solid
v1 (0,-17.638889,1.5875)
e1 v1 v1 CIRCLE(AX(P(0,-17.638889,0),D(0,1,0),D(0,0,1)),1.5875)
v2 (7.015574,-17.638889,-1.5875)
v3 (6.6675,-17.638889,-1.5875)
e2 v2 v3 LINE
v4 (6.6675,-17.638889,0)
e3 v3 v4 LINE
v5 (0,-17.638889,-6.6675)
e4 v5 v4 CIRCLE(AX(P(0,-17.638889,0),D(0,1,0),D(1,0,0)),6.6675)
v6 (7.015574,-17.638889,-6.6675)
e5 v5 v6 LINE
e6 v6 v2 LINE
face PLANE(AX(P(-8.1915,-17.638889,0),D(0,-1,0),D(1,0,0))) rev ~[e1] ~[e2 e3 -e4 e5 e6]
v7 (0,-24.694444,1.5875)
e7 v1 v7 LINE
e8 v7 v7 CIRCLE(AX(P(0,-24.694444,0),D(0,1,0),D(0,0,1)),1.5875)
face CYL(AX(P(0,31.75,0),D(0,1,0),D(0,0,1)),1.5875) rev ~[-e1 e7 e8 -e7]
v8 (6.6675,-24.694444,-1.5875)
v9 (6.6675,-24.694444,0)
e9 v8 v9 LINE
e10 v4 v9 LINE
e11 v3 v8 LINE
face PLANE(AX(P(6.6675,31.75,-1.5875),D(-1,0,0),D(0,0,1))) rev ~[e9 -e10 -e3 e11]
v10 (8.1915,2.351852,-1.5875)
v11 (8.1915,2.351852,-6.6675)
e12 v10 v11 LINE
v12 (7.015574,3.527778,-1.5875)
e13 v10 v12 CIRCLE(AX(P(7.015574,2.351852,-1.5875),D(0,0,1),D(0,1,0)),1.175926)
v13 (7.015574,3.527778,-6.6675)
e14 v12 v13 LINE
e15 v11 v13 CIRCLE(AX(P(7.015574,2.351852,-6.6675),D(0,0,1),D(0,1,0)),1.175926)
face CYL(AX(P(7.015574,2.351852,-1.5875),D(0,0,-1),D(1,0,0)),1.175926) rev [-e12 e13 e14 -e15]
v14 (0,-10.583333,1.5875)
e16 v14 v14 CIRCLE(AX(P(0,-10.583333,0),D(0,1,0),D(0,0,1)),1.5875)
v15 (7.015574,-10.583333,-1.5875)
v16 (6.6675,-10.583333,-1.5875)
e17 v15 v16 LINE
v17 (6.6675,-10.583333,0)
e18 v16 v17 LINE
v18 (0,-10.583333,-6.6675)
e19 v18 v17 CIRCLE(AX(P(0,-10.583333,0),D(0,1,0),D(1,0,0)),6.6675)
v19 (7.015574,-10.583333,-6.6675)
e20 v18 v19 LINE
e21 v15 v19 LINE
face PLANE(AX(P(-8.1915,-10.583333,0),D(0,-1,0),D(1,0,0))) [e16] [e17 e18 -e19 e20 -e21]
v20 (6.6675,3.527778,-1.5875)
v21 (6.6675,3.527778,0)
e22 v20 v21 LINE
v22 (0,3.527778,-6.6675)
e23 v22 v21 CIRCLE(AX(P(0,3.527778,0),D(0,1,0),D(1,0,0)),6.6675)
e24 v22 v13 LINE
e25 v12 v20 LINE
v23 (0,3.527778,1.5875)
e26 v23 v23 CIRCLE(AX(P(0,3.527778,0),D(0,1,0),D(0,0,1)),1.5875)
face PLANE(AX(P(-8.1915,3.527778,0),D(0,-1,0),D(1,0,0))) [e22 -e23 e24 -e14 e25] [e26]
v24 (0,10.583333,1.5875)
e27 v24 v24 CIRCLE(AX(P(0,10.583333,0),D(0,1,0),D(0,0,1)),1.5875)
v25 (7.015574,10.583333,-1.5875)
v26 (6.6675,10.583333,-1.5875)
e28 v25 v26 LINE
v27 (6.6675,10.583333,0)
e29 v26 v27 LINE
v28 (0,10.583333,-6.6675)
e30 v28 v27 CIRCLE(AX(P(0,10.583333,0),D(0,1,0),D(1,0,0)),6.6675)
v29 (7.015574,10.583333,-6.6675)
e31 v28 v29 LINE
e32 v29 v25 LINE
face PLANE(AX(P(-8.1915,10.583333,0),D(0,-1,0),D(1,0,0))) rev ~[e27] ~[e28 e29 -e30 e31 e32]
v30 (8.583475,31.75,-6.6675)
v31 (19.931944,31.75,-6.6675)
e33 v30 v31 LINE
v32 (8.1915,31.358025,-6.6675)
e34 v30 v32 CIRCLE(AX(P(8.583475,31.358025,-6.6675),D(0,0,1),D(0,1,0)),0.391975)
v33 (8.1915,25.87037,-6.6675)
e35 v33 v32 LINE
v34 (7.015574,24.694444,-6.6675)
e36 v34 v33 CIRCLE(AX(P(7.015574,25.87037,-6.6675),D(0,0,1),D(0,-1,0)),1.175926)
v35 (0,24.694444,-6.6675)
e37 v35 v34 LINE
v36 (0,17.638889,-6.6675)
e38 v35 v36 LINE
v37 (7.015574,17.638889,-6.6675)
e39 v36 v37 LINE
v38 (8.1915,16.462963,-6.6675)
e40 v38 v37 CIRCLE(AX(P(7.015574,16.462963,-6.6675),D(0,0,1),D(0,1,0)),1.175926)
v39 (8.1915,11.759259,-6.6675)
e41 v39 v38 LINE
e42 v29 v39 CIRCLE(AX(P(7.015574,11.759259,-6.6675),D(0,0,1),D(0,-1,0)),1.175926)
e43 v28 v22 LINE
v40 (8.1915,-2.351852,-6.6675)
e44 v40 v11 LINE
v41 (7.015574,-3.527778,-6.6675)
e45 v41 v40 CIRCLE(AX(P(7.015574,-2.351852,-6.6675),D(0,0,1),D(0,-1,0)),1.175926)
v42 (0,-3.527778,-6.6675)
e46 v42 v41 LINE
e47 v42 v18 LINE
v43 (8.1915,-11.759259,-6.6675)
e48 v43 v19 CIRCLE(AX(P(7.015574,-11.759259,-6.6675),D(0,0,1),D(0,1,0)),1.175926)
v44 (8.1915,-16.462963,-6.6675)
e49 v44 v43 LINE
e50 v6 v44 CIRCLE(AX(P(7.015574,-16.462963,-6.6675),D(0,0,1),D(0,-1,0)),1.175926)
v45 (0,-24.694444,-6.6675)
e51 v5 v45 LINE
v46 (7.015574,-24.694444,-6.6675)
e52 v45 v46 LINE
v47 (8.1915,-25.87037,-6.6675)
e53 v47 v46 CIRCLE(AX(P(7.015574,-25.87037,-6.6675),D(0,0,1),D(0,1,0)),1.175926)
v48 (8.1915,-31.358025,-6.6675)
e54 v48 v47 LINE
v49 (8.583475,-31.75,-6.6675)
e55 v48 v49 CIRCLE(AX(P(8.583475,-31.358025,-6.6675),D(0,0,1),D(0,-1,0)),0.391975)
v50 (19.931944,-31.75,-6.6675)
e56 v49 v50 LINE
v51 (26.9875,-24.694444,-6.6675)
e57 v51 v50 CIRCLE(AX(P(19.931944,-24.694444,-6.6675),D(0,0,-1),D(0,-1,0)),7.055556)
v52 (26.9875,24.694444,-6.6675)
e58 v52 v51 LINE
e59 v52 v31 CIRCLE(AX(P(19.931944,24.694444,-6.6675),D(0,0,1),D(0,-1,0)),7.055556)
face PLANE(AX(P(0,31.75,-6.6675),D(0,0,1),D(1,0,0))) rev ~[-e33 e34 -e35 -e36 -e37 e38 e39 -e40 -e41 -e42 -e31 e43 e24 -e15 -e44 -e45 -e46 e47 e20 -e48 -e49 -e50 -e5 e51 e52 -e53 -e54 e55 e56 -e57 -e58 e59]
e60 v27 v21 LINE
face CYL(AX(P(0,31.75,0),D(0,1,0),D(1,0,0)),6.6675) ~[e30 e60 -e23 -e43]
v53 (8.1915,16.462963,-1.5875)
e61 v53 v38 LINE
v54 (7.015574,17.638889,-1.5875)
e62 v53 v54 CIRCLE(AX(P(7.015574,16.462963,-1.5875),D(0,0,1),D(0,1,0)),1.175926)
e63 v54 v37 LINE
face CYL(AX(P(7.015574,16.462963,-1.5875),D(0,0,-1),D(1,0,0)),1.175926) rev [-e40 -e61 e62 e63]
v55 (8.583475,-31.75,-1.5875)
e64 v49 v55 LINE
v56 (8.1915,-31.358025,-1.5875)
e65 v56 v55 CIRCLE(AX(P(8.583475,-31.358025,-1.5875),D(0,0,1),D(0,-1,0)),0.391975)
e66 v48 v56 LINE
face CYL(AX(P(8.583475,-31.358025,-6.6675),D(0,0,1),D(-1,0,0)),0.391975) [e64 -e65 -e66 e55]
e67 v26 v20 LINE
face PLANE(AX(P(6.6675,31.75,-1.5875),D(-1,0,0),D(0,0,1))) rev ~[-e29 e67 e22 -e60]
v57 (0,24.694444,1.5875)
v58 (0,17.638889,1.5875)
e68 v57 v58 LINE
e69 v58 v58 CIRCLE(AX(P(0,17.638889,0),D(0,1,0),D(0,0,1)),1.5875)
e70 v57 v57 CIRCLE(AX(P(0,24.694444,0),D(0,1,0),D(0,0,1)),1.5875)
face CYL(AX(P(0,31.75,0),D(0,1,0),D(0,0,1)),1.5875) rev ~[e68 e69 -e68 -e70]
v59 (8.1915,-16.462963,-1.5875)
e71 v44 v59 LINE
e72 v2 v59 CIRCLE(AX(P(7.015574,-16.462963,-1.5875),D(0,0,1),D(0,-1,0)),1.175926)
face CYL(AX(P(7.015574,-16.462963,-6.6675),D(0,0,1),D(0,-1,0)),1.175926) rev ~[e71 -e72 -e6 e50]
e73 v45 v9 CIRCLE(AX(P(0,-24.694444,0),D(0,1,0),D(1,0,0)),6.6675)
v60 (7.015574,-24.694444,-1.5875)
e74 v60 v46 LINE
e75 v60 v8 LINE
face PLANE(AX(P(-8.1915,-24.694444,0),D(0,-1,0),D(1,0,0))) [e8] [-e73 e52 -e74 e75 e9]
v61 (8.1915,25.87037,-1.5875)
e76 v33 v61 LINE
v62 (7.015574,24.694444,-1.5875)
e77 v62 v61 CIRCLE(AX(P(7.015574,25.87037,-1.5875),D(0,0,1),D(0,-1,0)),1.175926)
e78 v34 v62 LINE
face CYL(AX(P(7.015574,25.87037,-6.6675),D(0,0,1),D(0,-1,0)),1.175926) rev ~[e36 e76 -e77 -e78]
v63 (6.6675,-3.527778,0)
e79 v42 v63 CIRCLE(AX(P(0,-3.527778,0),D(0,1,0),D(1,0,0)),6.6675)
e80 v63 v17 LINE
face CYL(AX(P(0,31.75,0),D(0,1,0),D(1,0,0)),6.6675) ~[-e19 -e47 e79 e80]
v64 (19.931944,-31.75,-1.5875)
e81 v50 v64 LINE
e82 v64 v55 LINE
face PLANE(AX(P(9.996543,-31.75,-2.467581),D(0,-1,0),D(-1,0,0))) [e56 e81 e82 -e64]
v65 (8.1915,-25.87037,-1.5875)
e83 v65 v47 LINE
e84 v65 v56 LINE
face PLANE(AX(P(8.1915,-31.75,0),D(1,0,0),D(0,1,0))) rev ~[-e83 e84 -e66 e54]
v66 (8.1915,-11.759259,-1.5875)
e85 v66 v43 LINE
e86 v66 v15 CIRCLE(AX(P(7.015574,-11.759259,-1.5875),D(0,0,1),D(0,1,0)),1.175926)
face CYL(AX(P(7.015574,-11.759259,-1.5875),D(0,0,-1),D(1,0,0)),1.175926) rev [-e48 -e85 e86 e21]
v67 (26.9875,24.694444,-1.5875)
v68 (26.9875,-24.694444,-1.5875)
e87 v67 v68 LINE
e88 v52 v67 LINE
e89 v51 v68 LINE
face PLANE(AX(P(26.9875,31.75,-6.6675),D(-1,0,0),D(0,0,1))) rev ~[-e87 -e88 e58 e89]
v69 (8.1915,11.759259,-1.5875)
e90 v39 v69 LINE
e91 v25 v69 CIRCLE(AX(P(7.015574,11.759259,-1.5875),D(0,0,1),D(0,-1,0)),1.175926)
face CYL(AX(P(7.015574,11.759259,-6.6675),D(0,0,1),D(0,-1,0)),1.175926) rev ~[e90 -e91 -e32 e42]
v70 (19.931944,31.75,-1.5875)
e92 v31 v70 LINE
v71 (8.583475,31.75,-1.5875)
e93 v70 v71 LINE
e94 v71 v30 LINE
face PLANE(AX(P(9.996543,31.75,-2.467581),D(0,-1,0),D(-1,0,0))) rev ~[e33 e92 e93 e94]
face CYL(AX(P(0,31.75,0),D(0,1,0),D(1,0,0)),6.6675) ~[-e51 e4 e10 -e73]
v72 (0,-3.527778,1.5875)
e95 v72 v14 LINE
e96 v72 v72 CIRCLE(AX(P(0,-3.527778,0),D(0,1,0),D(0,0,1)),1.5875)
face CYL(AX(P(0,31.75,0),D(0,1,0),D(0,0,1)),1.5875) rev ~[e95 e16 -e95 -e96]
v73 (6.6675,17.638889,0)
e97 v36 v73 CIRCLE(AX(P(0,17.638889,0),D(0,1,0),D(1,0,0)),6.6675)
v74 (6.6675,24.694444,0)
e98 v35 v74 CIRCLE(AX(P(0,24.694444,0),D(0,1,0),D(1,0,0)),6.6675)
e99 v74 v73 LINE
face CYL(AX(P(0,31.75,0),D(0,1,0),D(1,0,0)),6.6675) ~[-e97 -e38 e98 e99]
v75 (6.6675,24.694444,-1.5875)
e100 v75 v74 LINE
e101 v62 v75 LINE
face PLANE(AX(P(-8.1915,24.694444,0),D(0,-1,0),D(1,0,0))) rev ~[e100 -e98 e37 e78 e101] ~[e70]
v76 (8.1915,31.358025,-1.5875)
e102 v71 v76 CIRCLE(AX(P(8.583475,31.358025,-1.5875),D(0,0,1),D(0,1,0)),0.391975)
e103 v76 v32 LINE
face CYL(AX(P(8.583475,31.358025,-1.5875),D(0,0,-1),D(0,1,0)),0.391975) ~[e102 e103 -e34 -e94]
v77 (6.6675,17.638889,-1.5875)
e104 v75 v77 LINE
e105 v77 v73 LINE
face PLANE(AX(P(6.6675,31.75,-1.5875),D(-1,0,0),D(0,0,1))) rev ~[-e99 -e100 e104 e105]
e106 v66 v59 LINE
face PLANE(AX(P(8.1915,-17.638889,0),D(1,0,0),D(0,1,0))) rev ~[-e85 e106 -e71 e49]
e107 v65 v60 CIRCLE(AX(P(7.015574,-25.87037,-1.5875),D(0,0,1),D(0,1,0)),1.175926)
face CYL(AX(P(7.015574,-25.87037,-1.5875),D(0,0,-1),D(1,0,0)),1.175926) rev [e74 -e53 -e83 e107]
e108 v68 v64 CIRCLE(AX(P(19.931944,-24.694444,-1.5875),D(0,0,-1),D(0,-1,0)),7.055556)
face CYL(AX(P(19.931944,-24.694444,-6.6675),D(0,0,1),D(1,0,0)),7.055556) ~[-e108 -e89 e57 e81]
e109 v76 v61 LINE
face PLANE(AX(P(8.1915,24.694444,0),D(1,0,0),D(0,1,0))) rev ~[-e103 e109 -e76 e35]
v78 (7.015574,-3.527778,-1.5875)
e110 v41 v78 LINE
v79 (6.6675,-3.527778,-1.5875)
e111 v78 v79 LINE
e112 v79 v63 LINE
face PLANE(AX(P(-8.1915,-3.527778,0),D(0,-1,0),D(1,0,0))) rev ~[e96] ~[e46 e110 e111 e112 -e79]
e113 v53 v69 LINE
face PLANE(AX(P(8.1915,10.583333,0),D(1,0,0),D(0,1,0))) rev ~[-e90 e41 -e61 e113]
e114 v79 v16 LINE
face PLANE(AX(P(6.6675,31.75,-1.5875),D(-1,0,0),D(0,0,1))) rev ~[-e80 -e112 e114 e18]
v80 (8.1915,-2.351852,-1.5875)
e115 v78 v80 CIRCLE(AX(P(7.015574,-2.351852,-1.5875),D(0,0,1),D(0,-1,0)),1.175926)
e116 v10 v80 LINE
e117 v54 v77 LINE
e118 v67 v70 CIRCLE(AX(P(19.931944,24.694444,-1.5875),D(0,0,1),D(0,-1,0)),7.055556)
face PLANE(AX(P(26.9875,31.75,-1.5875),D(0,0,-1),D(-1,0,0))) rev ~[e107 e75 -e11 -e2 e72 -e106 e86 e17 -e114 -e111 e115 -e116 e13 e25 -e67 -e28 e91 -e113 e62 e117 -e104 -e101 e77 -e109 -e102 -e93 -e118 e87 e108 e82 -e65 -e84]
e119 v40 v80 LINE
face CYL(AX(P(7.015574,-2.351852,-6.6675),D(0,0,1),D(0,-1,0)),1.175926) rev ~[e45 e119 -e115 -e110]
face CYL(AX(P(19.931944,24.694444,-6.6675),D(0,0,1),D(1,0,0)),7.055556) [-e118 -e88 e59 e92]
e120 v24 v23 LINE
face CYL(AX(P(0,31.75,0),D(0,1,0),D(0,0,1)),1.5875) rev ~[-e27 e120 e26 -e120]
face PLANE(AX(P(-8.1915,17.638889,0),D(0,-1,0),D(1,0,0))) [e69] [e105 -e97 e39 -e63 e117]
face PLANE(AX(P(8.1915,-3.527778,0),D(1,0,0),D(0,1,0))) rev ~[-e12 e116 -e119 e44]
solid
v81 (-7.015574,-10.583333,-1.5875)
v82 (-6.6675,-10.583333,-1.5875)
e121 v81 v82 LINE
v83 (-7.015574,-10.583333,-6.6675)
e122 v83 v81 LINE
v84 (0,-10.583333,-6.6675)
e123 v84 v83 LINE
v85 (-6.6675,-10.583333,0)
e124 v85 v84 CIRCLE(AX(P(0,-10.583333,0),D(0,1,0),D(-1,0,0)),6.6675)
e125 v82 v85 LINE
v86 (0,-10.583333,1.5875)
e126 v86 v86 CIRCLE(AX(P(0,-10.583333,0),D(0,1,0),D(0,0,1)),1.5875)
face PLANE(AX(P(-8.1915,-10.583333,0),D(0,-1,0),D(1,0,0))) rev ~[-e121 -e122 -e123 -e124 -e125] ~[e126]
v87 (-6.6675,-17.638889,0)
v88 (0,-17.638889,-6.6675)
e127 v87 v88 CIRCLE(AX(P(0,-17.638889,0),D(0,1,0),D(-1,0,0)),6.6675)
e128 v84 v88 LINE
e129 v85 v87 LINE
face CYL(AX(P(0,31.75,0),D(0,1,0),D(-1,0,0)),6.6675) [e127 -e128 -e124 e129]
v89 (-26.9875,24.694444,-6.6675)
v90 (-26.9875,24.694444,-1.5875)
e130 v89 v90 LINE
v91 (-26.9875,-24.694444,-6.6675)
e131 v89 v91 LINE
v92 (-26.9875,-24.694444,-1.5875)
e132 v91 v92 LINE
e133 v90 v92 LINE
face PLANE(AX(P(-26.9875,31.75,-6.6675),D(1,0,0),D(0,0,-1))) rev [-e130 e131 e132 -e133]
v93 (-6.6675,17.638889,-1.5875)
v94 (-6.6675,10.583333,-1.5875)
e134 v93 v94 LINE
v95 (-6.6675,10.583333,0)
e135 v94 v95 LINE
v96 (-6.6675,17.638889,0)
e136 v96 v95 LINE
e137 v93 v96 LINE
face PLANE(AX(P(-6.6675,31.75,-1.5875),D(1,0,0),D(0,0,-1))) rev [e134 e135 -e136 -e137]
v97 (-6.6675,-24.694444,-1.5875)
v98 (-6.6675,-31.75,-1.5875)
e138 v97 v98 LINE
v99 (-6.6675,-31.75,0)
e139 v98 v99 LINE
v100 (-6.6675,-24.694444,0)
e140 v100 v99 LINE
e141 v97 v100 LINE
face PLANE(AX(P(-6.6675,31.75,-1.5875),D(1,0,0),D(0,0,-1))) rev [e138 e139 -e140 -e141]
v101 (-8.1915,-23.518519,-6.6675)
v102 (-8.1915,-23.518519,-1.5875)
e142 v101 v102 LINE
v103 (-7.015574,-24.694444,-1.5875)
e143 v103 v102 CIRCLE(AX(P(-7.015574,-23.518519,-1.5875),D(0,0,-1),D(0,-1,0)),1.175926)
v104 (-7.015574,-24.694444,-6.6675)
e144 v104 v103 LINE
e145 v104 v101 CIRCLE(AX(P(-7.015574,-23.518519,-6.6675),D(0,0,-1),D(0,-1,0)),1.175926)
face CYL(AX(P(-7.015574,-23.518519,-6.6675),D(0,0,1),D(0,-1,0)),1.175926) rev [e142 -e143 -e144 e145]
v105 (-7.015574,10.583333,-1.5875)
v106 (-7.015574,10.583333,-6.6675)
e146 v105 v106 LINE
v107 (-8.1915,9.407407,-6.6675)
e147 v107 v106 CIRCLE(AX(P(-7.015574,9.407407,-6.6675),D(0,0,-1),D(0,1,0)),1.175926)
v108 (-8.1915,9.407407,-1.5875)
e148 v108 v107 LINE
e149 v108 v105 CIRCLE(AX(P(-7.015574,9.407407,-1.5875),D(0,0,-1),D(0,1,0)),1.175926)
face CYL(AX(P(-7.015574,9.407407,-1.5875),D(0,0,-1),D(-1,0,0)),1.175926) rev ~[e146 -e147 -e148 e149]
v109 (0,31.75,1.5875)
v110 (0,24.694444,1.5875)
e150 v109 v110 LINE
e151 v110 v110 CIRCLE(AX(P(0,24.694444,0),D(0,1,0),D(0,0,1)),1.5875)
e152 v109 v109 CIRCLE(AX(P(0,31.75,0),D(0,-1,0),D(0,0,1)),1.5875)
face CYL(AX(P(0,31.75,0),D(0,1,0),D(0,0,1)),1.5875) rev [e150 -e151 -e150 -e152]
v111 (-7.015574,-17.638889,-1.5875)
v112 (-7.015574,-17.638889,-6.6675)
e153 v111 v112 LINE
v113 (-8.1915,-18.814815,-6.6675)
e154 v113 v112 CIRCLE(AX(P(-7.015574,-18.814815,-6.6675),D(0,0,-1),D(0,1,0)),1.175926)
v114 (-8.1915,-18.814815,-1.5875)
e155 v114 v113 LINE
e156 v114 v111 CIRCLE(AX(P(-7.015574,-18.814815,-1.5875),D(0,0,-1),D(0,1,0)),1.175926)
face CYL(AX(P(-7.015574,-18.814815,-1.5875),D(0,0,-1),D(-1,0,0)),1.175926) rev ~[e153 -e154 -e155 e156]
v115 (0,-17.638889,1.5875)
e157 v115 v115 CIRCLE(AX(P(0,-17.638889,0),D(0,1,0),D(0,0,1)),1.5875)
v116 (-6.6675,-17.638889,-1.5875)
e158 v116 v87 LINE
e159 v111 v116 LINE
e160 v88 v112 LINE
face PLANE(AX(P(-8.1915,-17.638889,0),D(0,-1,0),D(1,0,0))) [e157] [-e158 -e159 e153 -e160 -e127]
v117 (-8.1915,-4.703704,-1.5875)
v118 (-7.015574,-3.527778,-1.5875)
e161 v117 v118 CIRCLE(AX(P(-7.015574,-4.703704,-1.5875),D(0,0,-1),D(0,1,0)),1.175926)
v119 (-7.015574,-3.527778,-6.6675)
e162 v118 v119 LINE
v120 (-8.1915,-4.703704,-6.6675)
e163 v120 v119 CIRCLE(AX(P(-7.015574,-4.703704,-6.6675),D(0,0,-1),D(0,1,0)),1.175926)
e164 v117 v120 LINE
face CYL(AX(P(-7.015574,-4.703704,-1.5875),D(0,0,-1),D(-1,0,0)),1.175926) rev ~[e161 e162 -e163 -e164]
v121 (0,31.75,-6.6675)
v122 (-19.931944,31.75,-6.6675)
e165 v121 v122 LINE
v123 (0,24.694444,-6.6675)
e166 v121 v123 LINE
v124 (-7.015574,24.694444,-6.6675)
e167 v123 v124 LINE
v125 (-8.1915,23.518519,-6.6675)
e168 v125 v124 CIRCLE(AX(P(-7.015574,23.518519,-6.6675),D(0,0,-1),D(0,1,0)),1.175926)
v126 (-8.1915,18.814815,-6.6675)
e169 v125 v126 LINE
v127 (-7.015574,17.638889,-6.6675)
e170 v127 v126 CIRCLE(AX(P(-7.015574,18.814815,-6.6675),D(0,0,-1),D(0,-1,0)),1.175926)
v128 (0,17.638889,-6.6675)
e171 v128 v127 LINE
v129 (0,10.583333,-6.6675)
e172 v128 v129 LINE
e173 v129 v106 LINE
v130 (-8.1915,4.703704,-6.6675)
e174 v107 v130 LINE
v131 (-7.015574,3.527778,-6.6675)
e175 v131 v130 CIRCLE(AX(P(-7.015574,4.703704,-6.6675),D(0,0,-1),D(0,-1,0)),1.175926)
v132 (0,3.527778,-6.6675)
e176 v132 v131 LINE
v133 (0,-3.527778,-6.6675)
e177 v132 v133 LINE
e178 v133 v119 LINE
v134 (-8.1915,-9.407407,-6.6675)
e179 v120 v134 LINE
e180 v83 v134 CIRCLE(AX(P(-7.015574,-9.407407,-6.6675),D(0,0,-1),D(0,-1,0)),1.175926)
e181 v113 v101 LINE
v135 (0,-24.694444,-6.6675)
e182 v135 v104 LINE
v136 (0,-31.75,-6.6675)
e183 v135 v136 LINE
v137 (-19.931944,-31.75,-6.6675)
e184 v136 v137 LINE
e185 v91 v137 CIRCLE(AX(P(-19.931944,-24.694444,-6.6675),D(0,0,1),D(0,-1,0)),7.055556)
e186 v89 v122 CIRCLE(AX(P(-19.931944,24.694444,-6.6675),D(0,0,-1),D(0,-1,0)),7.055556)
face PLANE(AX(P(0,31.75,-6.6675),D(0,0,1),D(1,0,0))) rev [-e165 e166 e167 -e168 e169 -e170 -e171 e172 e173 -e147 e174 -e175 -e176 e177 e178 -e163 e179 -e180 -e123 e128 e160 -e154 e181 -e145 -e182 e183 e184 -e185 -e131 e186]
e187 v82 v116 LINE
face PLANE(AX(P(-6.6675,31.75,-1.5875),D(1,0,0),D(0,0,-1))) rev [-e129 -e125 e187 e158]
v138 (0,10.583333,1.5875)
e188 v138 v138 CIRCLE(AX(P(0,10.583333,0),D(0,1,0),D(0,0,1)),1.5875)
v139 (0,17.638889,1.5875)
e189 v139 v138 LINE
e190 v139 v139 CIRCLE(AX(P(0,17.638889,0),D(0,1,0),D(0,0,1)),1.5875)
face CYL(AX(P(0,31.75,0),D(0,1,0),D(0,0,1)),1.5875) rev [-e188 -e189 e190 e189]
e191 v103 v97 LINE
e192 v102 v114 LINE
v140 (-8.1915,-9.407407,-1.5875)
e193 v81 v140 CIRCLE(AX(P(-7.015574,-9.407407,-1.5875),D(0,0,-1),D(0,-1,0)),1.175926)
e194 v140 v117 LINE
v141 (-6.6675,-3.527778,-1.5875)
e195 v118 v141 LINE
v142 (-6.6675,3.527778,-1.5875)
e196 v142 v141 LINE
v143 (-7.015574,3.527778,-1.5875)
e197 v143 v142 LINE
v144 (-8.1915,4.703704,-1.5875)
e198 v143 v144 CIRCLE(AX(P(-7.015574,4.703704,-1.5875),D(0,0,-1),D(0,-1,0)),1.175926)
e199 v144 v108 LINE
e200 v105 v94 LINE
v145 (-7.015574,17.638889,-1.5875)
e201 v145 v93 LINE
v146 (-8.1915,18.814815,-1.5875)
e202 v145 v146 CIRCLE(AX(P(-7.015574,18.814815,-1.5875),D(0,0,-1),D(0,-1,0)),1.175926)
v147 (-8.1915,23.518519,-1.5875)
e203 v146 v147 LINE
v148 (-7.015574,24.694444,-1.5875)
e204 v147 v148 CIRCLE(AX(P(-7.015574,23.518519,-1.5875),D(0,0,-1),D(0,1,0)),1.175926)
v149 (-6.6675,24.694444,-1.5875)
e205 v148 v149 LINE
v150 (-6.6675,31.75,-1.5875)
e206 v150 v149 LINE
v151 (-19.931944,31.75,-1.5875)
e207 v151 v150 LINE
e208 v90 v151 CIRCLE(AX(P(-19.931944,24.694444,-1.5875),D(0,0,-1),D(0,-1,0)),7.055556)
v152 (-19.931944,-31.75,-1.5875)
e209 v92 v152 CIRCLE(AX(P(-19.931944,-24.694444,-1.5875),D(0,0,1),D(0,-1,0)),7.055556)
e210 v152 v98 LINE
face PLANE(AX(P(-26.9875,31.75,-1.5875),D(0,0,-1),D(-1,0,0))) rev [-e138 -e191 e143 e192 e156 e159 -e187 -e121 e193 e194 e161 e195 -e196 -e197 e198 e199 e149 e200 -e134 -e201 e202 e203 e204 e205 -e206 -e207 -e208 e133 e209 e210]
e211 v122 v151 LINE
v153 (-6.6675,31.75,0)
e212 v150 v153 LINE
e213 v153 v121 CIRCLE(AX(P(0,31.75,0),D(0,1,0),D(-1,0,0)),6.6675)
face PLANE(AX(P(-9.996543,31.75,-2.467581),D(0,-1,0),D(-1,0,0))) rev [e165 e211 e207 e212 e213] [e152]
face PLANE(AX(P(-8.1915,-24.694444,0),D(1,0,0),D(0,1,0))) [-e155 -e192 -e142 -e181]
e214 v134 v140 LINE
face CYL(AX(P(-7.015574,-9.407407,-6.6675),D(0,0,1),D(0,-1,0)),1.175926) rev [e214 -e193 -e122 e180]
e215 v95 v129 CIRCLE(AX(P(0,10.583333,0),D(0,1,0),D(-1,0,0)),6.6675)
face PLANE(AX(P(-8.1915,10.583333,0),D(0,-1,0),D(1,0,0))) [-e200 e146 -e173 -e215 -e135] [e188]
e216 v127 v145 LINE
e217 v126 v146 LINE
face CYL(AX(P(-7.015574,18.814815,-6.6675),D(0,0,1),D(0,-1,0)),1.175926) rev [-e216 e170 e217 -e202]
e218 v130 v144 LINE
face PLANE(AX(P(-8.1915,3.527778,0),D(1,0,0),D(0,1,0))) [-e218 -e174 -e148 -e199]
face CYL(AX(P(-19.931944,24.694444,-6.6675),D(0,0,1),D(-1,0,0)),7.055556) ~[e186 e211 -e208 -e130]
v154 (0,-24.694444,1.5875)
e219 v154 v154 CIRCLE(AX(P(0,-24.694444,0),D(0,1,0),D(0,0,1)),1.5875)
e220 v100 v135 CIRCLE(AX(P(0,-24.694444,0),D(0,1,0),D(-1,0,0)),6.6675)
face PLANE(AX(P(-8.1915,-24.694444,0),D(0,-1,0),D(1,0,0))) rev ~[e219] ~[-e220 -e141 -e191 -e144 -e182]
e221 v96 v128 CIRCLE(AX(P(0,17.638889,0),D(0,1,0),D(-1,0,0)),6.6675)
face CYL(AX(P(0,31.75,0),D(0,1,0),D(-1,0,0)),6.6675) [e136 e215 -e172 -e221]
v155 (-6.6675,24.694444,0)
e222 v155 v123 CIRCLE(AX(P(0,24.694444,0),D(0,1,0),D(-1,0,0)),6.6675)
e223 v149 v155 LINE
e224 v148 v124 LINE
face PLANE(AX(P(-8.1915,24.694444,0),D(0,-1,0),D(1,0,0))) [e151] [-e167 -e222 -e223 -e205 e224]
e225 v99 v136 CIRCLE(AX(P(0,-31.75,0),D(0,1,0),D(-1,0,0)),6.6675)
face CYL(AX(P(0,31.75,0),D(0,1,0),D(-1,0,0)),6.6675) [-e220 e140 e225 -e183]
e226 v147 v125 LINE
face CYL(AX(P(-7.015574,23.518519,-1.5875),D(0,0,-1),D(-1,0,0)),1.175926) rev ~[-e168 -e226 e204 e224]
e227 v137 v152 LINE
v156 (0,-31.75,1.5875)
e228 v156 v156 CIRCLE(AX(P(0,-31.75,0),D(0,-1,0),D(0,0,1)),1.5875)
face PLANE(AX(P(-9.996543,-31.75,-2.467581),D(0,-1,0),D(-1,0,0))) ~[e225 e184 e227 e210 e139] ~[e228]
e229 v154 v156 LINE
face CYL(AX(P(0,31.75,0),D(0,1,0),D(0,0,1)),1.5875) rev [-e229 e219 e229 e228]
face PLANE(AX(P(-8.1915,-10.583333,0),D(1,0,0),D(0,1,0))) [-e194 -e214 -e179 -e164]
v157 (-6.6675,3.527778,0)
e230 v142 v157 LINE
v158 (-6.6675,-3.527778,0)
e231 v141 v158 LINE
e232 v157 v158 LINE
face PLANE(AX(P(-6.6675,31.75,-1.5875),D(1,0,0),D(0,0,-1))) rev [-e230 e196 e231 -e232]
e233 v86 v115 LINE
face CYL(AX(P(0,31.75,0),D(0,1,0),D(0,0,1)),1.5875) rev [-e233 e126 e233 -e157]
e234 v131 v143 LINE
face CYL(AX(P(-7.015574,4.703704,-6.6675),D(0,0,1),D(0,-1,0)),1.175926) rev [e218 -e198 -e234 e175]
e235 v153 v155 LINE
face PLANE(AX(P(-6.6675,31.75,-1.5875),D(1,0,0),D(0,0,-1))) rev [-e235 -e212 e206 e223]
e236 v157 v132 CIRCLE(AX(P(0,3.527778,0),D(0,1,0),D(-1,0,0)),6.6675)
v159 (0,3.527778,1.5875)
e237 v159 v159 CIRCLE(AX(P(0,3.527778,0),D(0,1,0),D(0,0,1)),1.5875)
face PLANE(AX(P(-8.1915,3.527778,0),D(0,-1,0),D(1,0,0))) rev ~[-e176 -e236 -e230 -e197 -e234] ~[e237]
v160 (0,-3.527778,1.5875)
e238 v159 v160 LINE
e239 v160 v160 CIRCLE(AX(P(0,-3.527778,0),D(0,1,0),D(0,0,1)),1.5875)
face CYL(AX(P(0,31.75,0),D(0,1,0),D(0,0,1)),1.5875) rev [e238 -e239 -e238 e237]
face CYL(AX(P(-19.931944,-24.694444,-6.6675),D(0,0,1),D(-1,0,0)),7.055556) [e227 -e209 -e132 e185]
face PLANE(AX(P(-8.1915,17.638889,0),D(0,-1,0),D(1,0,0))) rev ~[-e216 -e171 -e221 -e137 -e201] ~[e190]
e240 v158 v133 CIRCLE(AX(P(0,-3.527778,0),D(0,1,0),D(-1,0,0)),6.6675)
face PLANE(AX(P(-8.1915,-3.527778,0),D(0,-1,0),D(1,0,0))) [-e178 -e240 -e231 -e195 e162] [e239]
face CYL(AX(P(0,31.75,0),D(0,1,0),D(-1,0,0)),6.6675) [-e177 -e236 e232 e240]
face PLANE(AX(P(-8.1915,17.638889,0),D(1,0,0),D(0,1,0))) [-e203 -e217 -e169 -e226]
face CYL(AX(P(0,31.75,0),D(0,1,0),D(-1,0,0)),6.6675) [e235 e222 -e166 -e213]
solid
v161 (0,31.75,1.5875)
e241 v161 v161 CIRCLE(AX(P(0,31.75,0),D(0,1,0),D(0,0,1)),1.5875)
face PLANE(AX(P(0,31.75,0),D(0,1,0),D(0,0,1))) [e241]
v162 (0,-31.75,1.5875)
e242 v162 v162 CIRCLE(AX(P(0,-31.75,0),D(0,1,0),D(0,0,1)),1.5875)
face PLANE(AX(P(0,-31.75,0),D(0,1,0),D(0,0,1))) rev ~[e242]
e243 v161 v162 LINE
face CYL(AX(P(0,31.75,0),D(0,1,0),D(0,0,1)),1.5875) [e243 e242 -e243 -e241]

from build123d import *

# Parameters (mm, degrees)
BOSS_EXTRUDE1_START = 31.75
SKETCH3_R           = 1.5875
BOSS_EXTRUDE1_DEPTH = 63.5
FILLET1_R           = 7.055555556
SKETCH5_W           = 16.383
SKETCH5_H           = 7.055555556
CUT_EXTRUDE1_DEPTH  = 43.200038063
LPATTERN1_COUNT     = 5
LPATTERN1_PITCH     = 14.111111111
FILLET2_R           = 1.175925926
SKETCH6_W           = 16.383
SKETCH6_H           = 7.055555555
CUT_EXTRUDE2_DEPTH  = 43.200038063
LPATTERN2_COUNT     = 4
LPATTERN2_PITCH     = 14.111111111
FILLET3_R           = 1.175925926
FILLET4_R           = 0.391975309
BOSS_EXTRUDE3_START = 31.75
SKETCH7_R           = 1.5875
BOSS_EXTRUDE3_DEPTH = 63.5


with BuildPart() as part:
    # Sketch3 → Boss-Extrude1 (new body)
    with BuildSketch(Plane(origin=(0, 0, 0), x_dir=(1, 0, 0), z_dir=(0, 1, 0)).offset(BOSS_EXTRUDE1_START)):
        with BuildLine():
            Line((26.9875, 6.6675), (26.9875, 1.5875))
            Line((26.9875, 1.5875), (6.6675, 1.5875))
            Line((6.6675, 1.5875), (6.6675, 0))
            ThreePointArc((6.6675, 0), (-4.714634464, -4.714634464), (0, 6.6675))
            Line((0, 6.6675), (26.9875, 6.6675))
        make_face()
        with Locations(Location((0, 0, 0), (0, 0, 270))):
            Circle(SKETCH3_R, mode=Mode.SUBTRACT)
    extrude(amount=-BOSS_EXTRUDE1_DEPTH)

    # Fillet1
    fillet1_edges = [part.edges().sort_by_distance(p)[0] for p in [
        (26.9875, -31.75, -4.1275),
        (26.9875, 31.75, -4.1275),
    ]]
    fillet(fillet1_edges, radius=FILLET1_R)


with BuildPart() as body_2:
    # Mirror1: mirrored copy
    add(part.part.mirror(Plane(origin=(0, 0, 0), x_dir=(0, 0, 1), z_dir=(1, 0, 0))))

    # Sketch6 → Cut-Extrude2 (cut, symmetric)
    with BuildSketch(Plane.XY):
        with Locations((0, 21.166666666)):
            Rectangle(SKETCH6_W, SKETCH6_H)
    cut_extrude2 = extrude(amount=CUT_EXTRUDE2_DEPTH, both=True, mode=Mode.SUBTRACT)

    # LPattern2: Cut-Extrude2 ×4
    with Locations(*[(0, -i * LPATTERN2_PITCH, 0) for i in range(1, LPATTERN2_COUNT)]):
        add(cut_extrude2, mode=Mode.SUBTRACT)

    # Fillet3
    fillet3_edges = [body_2.edges().sort_by_distance(p)[0] for p in [
        (-8.1915, -3.527777778, -4.1275),
        (-8.1915, -10.583333333, -4.1275),
        (-8.1915, -17.638888889, -4.1275),
        (-8.1915, -24.694444444, -4.1275),
        (-8.1915, 24.694444444, -4.1275),
        (-8.1915, 17.638888889, -4.1275),
        (-8.1915, 10.583333333, -4.1275),
        (-8.1915, 3.527777778, -4.1275),
    ]]
    fillet(fillet3_edges, radius=FILLET3_R)


with BuildPart() as part_1:
    add(part.part)

    # Sketch5 → Cut-Extrude1 (cut, symmetric)
    with BuildSketch(Plane.XY):
        with Locations((0, 28.222222222)):
            Rectangle(SKETCH5_W, SKETCH5_H)
    cut_extrude1 = extrude(amount=CUT_EXTRUDE1_DEPTH, both=True, mode=Mode.SUBTRACT)

    # LPattern1: Cut-Extrude1 ×5
    with Locations(*[(0, -i * LPATTERN1_PITCH, 0) for i in range(1, LPATTERN1_COUNT)]):
        add(cut_extrude1, mode=Mode.SUBTRACT)

    # Fillet2
    fillet2_edges = [part_1.edges().sort_by_distance(p)[0] for p in [
        (8.1915, -3.527777778, -4.1275),
        (8.1915, 3.527777778, -4.1275),
        (8.1915, -17.638888889, -4.1275),
        (8.1915, -10.583333333, -4.1275),
        (8.1915, -24.694444444, -4.1275),
        (8.1915, 24.694444444, -4.1275),
        (8.1915, 10.583333333, -4.1275),
        (8.1915, 17.638888889, -4.1275),
    ]]
    fillet(fillet2_edges, radius=FILLET2_R)

    # Fillet4
    fillet4_edges = [part_1.edges().sort_by_distance(p)[0] for p in [
        (8.1915, -31.75, -4.1275),
        (8.1915, 31.75, -4.1275),
    ]]
    fillet(fillet4_edges, radius=FILLET4_R)


with BuildPart() as body_3:
    # Sketch7 → Boss-Extrude3 (new body)
    with BuildSketch(Plane(origin=(0, 0, 0), x_dir=(1, 0, 0), z_dir=(0, 1, 0)).offset(BOSS_EXTRUDE3_START)):
        with Locations(Location((0, 0, 0), (0, 0, 270))):
            Circle(SKETCH7_R)
    extrude(amount=-BOSS_EXTRUDE3_DEPTH)


solid = Compound([body_2.part, part_1.part, body_3.part])
